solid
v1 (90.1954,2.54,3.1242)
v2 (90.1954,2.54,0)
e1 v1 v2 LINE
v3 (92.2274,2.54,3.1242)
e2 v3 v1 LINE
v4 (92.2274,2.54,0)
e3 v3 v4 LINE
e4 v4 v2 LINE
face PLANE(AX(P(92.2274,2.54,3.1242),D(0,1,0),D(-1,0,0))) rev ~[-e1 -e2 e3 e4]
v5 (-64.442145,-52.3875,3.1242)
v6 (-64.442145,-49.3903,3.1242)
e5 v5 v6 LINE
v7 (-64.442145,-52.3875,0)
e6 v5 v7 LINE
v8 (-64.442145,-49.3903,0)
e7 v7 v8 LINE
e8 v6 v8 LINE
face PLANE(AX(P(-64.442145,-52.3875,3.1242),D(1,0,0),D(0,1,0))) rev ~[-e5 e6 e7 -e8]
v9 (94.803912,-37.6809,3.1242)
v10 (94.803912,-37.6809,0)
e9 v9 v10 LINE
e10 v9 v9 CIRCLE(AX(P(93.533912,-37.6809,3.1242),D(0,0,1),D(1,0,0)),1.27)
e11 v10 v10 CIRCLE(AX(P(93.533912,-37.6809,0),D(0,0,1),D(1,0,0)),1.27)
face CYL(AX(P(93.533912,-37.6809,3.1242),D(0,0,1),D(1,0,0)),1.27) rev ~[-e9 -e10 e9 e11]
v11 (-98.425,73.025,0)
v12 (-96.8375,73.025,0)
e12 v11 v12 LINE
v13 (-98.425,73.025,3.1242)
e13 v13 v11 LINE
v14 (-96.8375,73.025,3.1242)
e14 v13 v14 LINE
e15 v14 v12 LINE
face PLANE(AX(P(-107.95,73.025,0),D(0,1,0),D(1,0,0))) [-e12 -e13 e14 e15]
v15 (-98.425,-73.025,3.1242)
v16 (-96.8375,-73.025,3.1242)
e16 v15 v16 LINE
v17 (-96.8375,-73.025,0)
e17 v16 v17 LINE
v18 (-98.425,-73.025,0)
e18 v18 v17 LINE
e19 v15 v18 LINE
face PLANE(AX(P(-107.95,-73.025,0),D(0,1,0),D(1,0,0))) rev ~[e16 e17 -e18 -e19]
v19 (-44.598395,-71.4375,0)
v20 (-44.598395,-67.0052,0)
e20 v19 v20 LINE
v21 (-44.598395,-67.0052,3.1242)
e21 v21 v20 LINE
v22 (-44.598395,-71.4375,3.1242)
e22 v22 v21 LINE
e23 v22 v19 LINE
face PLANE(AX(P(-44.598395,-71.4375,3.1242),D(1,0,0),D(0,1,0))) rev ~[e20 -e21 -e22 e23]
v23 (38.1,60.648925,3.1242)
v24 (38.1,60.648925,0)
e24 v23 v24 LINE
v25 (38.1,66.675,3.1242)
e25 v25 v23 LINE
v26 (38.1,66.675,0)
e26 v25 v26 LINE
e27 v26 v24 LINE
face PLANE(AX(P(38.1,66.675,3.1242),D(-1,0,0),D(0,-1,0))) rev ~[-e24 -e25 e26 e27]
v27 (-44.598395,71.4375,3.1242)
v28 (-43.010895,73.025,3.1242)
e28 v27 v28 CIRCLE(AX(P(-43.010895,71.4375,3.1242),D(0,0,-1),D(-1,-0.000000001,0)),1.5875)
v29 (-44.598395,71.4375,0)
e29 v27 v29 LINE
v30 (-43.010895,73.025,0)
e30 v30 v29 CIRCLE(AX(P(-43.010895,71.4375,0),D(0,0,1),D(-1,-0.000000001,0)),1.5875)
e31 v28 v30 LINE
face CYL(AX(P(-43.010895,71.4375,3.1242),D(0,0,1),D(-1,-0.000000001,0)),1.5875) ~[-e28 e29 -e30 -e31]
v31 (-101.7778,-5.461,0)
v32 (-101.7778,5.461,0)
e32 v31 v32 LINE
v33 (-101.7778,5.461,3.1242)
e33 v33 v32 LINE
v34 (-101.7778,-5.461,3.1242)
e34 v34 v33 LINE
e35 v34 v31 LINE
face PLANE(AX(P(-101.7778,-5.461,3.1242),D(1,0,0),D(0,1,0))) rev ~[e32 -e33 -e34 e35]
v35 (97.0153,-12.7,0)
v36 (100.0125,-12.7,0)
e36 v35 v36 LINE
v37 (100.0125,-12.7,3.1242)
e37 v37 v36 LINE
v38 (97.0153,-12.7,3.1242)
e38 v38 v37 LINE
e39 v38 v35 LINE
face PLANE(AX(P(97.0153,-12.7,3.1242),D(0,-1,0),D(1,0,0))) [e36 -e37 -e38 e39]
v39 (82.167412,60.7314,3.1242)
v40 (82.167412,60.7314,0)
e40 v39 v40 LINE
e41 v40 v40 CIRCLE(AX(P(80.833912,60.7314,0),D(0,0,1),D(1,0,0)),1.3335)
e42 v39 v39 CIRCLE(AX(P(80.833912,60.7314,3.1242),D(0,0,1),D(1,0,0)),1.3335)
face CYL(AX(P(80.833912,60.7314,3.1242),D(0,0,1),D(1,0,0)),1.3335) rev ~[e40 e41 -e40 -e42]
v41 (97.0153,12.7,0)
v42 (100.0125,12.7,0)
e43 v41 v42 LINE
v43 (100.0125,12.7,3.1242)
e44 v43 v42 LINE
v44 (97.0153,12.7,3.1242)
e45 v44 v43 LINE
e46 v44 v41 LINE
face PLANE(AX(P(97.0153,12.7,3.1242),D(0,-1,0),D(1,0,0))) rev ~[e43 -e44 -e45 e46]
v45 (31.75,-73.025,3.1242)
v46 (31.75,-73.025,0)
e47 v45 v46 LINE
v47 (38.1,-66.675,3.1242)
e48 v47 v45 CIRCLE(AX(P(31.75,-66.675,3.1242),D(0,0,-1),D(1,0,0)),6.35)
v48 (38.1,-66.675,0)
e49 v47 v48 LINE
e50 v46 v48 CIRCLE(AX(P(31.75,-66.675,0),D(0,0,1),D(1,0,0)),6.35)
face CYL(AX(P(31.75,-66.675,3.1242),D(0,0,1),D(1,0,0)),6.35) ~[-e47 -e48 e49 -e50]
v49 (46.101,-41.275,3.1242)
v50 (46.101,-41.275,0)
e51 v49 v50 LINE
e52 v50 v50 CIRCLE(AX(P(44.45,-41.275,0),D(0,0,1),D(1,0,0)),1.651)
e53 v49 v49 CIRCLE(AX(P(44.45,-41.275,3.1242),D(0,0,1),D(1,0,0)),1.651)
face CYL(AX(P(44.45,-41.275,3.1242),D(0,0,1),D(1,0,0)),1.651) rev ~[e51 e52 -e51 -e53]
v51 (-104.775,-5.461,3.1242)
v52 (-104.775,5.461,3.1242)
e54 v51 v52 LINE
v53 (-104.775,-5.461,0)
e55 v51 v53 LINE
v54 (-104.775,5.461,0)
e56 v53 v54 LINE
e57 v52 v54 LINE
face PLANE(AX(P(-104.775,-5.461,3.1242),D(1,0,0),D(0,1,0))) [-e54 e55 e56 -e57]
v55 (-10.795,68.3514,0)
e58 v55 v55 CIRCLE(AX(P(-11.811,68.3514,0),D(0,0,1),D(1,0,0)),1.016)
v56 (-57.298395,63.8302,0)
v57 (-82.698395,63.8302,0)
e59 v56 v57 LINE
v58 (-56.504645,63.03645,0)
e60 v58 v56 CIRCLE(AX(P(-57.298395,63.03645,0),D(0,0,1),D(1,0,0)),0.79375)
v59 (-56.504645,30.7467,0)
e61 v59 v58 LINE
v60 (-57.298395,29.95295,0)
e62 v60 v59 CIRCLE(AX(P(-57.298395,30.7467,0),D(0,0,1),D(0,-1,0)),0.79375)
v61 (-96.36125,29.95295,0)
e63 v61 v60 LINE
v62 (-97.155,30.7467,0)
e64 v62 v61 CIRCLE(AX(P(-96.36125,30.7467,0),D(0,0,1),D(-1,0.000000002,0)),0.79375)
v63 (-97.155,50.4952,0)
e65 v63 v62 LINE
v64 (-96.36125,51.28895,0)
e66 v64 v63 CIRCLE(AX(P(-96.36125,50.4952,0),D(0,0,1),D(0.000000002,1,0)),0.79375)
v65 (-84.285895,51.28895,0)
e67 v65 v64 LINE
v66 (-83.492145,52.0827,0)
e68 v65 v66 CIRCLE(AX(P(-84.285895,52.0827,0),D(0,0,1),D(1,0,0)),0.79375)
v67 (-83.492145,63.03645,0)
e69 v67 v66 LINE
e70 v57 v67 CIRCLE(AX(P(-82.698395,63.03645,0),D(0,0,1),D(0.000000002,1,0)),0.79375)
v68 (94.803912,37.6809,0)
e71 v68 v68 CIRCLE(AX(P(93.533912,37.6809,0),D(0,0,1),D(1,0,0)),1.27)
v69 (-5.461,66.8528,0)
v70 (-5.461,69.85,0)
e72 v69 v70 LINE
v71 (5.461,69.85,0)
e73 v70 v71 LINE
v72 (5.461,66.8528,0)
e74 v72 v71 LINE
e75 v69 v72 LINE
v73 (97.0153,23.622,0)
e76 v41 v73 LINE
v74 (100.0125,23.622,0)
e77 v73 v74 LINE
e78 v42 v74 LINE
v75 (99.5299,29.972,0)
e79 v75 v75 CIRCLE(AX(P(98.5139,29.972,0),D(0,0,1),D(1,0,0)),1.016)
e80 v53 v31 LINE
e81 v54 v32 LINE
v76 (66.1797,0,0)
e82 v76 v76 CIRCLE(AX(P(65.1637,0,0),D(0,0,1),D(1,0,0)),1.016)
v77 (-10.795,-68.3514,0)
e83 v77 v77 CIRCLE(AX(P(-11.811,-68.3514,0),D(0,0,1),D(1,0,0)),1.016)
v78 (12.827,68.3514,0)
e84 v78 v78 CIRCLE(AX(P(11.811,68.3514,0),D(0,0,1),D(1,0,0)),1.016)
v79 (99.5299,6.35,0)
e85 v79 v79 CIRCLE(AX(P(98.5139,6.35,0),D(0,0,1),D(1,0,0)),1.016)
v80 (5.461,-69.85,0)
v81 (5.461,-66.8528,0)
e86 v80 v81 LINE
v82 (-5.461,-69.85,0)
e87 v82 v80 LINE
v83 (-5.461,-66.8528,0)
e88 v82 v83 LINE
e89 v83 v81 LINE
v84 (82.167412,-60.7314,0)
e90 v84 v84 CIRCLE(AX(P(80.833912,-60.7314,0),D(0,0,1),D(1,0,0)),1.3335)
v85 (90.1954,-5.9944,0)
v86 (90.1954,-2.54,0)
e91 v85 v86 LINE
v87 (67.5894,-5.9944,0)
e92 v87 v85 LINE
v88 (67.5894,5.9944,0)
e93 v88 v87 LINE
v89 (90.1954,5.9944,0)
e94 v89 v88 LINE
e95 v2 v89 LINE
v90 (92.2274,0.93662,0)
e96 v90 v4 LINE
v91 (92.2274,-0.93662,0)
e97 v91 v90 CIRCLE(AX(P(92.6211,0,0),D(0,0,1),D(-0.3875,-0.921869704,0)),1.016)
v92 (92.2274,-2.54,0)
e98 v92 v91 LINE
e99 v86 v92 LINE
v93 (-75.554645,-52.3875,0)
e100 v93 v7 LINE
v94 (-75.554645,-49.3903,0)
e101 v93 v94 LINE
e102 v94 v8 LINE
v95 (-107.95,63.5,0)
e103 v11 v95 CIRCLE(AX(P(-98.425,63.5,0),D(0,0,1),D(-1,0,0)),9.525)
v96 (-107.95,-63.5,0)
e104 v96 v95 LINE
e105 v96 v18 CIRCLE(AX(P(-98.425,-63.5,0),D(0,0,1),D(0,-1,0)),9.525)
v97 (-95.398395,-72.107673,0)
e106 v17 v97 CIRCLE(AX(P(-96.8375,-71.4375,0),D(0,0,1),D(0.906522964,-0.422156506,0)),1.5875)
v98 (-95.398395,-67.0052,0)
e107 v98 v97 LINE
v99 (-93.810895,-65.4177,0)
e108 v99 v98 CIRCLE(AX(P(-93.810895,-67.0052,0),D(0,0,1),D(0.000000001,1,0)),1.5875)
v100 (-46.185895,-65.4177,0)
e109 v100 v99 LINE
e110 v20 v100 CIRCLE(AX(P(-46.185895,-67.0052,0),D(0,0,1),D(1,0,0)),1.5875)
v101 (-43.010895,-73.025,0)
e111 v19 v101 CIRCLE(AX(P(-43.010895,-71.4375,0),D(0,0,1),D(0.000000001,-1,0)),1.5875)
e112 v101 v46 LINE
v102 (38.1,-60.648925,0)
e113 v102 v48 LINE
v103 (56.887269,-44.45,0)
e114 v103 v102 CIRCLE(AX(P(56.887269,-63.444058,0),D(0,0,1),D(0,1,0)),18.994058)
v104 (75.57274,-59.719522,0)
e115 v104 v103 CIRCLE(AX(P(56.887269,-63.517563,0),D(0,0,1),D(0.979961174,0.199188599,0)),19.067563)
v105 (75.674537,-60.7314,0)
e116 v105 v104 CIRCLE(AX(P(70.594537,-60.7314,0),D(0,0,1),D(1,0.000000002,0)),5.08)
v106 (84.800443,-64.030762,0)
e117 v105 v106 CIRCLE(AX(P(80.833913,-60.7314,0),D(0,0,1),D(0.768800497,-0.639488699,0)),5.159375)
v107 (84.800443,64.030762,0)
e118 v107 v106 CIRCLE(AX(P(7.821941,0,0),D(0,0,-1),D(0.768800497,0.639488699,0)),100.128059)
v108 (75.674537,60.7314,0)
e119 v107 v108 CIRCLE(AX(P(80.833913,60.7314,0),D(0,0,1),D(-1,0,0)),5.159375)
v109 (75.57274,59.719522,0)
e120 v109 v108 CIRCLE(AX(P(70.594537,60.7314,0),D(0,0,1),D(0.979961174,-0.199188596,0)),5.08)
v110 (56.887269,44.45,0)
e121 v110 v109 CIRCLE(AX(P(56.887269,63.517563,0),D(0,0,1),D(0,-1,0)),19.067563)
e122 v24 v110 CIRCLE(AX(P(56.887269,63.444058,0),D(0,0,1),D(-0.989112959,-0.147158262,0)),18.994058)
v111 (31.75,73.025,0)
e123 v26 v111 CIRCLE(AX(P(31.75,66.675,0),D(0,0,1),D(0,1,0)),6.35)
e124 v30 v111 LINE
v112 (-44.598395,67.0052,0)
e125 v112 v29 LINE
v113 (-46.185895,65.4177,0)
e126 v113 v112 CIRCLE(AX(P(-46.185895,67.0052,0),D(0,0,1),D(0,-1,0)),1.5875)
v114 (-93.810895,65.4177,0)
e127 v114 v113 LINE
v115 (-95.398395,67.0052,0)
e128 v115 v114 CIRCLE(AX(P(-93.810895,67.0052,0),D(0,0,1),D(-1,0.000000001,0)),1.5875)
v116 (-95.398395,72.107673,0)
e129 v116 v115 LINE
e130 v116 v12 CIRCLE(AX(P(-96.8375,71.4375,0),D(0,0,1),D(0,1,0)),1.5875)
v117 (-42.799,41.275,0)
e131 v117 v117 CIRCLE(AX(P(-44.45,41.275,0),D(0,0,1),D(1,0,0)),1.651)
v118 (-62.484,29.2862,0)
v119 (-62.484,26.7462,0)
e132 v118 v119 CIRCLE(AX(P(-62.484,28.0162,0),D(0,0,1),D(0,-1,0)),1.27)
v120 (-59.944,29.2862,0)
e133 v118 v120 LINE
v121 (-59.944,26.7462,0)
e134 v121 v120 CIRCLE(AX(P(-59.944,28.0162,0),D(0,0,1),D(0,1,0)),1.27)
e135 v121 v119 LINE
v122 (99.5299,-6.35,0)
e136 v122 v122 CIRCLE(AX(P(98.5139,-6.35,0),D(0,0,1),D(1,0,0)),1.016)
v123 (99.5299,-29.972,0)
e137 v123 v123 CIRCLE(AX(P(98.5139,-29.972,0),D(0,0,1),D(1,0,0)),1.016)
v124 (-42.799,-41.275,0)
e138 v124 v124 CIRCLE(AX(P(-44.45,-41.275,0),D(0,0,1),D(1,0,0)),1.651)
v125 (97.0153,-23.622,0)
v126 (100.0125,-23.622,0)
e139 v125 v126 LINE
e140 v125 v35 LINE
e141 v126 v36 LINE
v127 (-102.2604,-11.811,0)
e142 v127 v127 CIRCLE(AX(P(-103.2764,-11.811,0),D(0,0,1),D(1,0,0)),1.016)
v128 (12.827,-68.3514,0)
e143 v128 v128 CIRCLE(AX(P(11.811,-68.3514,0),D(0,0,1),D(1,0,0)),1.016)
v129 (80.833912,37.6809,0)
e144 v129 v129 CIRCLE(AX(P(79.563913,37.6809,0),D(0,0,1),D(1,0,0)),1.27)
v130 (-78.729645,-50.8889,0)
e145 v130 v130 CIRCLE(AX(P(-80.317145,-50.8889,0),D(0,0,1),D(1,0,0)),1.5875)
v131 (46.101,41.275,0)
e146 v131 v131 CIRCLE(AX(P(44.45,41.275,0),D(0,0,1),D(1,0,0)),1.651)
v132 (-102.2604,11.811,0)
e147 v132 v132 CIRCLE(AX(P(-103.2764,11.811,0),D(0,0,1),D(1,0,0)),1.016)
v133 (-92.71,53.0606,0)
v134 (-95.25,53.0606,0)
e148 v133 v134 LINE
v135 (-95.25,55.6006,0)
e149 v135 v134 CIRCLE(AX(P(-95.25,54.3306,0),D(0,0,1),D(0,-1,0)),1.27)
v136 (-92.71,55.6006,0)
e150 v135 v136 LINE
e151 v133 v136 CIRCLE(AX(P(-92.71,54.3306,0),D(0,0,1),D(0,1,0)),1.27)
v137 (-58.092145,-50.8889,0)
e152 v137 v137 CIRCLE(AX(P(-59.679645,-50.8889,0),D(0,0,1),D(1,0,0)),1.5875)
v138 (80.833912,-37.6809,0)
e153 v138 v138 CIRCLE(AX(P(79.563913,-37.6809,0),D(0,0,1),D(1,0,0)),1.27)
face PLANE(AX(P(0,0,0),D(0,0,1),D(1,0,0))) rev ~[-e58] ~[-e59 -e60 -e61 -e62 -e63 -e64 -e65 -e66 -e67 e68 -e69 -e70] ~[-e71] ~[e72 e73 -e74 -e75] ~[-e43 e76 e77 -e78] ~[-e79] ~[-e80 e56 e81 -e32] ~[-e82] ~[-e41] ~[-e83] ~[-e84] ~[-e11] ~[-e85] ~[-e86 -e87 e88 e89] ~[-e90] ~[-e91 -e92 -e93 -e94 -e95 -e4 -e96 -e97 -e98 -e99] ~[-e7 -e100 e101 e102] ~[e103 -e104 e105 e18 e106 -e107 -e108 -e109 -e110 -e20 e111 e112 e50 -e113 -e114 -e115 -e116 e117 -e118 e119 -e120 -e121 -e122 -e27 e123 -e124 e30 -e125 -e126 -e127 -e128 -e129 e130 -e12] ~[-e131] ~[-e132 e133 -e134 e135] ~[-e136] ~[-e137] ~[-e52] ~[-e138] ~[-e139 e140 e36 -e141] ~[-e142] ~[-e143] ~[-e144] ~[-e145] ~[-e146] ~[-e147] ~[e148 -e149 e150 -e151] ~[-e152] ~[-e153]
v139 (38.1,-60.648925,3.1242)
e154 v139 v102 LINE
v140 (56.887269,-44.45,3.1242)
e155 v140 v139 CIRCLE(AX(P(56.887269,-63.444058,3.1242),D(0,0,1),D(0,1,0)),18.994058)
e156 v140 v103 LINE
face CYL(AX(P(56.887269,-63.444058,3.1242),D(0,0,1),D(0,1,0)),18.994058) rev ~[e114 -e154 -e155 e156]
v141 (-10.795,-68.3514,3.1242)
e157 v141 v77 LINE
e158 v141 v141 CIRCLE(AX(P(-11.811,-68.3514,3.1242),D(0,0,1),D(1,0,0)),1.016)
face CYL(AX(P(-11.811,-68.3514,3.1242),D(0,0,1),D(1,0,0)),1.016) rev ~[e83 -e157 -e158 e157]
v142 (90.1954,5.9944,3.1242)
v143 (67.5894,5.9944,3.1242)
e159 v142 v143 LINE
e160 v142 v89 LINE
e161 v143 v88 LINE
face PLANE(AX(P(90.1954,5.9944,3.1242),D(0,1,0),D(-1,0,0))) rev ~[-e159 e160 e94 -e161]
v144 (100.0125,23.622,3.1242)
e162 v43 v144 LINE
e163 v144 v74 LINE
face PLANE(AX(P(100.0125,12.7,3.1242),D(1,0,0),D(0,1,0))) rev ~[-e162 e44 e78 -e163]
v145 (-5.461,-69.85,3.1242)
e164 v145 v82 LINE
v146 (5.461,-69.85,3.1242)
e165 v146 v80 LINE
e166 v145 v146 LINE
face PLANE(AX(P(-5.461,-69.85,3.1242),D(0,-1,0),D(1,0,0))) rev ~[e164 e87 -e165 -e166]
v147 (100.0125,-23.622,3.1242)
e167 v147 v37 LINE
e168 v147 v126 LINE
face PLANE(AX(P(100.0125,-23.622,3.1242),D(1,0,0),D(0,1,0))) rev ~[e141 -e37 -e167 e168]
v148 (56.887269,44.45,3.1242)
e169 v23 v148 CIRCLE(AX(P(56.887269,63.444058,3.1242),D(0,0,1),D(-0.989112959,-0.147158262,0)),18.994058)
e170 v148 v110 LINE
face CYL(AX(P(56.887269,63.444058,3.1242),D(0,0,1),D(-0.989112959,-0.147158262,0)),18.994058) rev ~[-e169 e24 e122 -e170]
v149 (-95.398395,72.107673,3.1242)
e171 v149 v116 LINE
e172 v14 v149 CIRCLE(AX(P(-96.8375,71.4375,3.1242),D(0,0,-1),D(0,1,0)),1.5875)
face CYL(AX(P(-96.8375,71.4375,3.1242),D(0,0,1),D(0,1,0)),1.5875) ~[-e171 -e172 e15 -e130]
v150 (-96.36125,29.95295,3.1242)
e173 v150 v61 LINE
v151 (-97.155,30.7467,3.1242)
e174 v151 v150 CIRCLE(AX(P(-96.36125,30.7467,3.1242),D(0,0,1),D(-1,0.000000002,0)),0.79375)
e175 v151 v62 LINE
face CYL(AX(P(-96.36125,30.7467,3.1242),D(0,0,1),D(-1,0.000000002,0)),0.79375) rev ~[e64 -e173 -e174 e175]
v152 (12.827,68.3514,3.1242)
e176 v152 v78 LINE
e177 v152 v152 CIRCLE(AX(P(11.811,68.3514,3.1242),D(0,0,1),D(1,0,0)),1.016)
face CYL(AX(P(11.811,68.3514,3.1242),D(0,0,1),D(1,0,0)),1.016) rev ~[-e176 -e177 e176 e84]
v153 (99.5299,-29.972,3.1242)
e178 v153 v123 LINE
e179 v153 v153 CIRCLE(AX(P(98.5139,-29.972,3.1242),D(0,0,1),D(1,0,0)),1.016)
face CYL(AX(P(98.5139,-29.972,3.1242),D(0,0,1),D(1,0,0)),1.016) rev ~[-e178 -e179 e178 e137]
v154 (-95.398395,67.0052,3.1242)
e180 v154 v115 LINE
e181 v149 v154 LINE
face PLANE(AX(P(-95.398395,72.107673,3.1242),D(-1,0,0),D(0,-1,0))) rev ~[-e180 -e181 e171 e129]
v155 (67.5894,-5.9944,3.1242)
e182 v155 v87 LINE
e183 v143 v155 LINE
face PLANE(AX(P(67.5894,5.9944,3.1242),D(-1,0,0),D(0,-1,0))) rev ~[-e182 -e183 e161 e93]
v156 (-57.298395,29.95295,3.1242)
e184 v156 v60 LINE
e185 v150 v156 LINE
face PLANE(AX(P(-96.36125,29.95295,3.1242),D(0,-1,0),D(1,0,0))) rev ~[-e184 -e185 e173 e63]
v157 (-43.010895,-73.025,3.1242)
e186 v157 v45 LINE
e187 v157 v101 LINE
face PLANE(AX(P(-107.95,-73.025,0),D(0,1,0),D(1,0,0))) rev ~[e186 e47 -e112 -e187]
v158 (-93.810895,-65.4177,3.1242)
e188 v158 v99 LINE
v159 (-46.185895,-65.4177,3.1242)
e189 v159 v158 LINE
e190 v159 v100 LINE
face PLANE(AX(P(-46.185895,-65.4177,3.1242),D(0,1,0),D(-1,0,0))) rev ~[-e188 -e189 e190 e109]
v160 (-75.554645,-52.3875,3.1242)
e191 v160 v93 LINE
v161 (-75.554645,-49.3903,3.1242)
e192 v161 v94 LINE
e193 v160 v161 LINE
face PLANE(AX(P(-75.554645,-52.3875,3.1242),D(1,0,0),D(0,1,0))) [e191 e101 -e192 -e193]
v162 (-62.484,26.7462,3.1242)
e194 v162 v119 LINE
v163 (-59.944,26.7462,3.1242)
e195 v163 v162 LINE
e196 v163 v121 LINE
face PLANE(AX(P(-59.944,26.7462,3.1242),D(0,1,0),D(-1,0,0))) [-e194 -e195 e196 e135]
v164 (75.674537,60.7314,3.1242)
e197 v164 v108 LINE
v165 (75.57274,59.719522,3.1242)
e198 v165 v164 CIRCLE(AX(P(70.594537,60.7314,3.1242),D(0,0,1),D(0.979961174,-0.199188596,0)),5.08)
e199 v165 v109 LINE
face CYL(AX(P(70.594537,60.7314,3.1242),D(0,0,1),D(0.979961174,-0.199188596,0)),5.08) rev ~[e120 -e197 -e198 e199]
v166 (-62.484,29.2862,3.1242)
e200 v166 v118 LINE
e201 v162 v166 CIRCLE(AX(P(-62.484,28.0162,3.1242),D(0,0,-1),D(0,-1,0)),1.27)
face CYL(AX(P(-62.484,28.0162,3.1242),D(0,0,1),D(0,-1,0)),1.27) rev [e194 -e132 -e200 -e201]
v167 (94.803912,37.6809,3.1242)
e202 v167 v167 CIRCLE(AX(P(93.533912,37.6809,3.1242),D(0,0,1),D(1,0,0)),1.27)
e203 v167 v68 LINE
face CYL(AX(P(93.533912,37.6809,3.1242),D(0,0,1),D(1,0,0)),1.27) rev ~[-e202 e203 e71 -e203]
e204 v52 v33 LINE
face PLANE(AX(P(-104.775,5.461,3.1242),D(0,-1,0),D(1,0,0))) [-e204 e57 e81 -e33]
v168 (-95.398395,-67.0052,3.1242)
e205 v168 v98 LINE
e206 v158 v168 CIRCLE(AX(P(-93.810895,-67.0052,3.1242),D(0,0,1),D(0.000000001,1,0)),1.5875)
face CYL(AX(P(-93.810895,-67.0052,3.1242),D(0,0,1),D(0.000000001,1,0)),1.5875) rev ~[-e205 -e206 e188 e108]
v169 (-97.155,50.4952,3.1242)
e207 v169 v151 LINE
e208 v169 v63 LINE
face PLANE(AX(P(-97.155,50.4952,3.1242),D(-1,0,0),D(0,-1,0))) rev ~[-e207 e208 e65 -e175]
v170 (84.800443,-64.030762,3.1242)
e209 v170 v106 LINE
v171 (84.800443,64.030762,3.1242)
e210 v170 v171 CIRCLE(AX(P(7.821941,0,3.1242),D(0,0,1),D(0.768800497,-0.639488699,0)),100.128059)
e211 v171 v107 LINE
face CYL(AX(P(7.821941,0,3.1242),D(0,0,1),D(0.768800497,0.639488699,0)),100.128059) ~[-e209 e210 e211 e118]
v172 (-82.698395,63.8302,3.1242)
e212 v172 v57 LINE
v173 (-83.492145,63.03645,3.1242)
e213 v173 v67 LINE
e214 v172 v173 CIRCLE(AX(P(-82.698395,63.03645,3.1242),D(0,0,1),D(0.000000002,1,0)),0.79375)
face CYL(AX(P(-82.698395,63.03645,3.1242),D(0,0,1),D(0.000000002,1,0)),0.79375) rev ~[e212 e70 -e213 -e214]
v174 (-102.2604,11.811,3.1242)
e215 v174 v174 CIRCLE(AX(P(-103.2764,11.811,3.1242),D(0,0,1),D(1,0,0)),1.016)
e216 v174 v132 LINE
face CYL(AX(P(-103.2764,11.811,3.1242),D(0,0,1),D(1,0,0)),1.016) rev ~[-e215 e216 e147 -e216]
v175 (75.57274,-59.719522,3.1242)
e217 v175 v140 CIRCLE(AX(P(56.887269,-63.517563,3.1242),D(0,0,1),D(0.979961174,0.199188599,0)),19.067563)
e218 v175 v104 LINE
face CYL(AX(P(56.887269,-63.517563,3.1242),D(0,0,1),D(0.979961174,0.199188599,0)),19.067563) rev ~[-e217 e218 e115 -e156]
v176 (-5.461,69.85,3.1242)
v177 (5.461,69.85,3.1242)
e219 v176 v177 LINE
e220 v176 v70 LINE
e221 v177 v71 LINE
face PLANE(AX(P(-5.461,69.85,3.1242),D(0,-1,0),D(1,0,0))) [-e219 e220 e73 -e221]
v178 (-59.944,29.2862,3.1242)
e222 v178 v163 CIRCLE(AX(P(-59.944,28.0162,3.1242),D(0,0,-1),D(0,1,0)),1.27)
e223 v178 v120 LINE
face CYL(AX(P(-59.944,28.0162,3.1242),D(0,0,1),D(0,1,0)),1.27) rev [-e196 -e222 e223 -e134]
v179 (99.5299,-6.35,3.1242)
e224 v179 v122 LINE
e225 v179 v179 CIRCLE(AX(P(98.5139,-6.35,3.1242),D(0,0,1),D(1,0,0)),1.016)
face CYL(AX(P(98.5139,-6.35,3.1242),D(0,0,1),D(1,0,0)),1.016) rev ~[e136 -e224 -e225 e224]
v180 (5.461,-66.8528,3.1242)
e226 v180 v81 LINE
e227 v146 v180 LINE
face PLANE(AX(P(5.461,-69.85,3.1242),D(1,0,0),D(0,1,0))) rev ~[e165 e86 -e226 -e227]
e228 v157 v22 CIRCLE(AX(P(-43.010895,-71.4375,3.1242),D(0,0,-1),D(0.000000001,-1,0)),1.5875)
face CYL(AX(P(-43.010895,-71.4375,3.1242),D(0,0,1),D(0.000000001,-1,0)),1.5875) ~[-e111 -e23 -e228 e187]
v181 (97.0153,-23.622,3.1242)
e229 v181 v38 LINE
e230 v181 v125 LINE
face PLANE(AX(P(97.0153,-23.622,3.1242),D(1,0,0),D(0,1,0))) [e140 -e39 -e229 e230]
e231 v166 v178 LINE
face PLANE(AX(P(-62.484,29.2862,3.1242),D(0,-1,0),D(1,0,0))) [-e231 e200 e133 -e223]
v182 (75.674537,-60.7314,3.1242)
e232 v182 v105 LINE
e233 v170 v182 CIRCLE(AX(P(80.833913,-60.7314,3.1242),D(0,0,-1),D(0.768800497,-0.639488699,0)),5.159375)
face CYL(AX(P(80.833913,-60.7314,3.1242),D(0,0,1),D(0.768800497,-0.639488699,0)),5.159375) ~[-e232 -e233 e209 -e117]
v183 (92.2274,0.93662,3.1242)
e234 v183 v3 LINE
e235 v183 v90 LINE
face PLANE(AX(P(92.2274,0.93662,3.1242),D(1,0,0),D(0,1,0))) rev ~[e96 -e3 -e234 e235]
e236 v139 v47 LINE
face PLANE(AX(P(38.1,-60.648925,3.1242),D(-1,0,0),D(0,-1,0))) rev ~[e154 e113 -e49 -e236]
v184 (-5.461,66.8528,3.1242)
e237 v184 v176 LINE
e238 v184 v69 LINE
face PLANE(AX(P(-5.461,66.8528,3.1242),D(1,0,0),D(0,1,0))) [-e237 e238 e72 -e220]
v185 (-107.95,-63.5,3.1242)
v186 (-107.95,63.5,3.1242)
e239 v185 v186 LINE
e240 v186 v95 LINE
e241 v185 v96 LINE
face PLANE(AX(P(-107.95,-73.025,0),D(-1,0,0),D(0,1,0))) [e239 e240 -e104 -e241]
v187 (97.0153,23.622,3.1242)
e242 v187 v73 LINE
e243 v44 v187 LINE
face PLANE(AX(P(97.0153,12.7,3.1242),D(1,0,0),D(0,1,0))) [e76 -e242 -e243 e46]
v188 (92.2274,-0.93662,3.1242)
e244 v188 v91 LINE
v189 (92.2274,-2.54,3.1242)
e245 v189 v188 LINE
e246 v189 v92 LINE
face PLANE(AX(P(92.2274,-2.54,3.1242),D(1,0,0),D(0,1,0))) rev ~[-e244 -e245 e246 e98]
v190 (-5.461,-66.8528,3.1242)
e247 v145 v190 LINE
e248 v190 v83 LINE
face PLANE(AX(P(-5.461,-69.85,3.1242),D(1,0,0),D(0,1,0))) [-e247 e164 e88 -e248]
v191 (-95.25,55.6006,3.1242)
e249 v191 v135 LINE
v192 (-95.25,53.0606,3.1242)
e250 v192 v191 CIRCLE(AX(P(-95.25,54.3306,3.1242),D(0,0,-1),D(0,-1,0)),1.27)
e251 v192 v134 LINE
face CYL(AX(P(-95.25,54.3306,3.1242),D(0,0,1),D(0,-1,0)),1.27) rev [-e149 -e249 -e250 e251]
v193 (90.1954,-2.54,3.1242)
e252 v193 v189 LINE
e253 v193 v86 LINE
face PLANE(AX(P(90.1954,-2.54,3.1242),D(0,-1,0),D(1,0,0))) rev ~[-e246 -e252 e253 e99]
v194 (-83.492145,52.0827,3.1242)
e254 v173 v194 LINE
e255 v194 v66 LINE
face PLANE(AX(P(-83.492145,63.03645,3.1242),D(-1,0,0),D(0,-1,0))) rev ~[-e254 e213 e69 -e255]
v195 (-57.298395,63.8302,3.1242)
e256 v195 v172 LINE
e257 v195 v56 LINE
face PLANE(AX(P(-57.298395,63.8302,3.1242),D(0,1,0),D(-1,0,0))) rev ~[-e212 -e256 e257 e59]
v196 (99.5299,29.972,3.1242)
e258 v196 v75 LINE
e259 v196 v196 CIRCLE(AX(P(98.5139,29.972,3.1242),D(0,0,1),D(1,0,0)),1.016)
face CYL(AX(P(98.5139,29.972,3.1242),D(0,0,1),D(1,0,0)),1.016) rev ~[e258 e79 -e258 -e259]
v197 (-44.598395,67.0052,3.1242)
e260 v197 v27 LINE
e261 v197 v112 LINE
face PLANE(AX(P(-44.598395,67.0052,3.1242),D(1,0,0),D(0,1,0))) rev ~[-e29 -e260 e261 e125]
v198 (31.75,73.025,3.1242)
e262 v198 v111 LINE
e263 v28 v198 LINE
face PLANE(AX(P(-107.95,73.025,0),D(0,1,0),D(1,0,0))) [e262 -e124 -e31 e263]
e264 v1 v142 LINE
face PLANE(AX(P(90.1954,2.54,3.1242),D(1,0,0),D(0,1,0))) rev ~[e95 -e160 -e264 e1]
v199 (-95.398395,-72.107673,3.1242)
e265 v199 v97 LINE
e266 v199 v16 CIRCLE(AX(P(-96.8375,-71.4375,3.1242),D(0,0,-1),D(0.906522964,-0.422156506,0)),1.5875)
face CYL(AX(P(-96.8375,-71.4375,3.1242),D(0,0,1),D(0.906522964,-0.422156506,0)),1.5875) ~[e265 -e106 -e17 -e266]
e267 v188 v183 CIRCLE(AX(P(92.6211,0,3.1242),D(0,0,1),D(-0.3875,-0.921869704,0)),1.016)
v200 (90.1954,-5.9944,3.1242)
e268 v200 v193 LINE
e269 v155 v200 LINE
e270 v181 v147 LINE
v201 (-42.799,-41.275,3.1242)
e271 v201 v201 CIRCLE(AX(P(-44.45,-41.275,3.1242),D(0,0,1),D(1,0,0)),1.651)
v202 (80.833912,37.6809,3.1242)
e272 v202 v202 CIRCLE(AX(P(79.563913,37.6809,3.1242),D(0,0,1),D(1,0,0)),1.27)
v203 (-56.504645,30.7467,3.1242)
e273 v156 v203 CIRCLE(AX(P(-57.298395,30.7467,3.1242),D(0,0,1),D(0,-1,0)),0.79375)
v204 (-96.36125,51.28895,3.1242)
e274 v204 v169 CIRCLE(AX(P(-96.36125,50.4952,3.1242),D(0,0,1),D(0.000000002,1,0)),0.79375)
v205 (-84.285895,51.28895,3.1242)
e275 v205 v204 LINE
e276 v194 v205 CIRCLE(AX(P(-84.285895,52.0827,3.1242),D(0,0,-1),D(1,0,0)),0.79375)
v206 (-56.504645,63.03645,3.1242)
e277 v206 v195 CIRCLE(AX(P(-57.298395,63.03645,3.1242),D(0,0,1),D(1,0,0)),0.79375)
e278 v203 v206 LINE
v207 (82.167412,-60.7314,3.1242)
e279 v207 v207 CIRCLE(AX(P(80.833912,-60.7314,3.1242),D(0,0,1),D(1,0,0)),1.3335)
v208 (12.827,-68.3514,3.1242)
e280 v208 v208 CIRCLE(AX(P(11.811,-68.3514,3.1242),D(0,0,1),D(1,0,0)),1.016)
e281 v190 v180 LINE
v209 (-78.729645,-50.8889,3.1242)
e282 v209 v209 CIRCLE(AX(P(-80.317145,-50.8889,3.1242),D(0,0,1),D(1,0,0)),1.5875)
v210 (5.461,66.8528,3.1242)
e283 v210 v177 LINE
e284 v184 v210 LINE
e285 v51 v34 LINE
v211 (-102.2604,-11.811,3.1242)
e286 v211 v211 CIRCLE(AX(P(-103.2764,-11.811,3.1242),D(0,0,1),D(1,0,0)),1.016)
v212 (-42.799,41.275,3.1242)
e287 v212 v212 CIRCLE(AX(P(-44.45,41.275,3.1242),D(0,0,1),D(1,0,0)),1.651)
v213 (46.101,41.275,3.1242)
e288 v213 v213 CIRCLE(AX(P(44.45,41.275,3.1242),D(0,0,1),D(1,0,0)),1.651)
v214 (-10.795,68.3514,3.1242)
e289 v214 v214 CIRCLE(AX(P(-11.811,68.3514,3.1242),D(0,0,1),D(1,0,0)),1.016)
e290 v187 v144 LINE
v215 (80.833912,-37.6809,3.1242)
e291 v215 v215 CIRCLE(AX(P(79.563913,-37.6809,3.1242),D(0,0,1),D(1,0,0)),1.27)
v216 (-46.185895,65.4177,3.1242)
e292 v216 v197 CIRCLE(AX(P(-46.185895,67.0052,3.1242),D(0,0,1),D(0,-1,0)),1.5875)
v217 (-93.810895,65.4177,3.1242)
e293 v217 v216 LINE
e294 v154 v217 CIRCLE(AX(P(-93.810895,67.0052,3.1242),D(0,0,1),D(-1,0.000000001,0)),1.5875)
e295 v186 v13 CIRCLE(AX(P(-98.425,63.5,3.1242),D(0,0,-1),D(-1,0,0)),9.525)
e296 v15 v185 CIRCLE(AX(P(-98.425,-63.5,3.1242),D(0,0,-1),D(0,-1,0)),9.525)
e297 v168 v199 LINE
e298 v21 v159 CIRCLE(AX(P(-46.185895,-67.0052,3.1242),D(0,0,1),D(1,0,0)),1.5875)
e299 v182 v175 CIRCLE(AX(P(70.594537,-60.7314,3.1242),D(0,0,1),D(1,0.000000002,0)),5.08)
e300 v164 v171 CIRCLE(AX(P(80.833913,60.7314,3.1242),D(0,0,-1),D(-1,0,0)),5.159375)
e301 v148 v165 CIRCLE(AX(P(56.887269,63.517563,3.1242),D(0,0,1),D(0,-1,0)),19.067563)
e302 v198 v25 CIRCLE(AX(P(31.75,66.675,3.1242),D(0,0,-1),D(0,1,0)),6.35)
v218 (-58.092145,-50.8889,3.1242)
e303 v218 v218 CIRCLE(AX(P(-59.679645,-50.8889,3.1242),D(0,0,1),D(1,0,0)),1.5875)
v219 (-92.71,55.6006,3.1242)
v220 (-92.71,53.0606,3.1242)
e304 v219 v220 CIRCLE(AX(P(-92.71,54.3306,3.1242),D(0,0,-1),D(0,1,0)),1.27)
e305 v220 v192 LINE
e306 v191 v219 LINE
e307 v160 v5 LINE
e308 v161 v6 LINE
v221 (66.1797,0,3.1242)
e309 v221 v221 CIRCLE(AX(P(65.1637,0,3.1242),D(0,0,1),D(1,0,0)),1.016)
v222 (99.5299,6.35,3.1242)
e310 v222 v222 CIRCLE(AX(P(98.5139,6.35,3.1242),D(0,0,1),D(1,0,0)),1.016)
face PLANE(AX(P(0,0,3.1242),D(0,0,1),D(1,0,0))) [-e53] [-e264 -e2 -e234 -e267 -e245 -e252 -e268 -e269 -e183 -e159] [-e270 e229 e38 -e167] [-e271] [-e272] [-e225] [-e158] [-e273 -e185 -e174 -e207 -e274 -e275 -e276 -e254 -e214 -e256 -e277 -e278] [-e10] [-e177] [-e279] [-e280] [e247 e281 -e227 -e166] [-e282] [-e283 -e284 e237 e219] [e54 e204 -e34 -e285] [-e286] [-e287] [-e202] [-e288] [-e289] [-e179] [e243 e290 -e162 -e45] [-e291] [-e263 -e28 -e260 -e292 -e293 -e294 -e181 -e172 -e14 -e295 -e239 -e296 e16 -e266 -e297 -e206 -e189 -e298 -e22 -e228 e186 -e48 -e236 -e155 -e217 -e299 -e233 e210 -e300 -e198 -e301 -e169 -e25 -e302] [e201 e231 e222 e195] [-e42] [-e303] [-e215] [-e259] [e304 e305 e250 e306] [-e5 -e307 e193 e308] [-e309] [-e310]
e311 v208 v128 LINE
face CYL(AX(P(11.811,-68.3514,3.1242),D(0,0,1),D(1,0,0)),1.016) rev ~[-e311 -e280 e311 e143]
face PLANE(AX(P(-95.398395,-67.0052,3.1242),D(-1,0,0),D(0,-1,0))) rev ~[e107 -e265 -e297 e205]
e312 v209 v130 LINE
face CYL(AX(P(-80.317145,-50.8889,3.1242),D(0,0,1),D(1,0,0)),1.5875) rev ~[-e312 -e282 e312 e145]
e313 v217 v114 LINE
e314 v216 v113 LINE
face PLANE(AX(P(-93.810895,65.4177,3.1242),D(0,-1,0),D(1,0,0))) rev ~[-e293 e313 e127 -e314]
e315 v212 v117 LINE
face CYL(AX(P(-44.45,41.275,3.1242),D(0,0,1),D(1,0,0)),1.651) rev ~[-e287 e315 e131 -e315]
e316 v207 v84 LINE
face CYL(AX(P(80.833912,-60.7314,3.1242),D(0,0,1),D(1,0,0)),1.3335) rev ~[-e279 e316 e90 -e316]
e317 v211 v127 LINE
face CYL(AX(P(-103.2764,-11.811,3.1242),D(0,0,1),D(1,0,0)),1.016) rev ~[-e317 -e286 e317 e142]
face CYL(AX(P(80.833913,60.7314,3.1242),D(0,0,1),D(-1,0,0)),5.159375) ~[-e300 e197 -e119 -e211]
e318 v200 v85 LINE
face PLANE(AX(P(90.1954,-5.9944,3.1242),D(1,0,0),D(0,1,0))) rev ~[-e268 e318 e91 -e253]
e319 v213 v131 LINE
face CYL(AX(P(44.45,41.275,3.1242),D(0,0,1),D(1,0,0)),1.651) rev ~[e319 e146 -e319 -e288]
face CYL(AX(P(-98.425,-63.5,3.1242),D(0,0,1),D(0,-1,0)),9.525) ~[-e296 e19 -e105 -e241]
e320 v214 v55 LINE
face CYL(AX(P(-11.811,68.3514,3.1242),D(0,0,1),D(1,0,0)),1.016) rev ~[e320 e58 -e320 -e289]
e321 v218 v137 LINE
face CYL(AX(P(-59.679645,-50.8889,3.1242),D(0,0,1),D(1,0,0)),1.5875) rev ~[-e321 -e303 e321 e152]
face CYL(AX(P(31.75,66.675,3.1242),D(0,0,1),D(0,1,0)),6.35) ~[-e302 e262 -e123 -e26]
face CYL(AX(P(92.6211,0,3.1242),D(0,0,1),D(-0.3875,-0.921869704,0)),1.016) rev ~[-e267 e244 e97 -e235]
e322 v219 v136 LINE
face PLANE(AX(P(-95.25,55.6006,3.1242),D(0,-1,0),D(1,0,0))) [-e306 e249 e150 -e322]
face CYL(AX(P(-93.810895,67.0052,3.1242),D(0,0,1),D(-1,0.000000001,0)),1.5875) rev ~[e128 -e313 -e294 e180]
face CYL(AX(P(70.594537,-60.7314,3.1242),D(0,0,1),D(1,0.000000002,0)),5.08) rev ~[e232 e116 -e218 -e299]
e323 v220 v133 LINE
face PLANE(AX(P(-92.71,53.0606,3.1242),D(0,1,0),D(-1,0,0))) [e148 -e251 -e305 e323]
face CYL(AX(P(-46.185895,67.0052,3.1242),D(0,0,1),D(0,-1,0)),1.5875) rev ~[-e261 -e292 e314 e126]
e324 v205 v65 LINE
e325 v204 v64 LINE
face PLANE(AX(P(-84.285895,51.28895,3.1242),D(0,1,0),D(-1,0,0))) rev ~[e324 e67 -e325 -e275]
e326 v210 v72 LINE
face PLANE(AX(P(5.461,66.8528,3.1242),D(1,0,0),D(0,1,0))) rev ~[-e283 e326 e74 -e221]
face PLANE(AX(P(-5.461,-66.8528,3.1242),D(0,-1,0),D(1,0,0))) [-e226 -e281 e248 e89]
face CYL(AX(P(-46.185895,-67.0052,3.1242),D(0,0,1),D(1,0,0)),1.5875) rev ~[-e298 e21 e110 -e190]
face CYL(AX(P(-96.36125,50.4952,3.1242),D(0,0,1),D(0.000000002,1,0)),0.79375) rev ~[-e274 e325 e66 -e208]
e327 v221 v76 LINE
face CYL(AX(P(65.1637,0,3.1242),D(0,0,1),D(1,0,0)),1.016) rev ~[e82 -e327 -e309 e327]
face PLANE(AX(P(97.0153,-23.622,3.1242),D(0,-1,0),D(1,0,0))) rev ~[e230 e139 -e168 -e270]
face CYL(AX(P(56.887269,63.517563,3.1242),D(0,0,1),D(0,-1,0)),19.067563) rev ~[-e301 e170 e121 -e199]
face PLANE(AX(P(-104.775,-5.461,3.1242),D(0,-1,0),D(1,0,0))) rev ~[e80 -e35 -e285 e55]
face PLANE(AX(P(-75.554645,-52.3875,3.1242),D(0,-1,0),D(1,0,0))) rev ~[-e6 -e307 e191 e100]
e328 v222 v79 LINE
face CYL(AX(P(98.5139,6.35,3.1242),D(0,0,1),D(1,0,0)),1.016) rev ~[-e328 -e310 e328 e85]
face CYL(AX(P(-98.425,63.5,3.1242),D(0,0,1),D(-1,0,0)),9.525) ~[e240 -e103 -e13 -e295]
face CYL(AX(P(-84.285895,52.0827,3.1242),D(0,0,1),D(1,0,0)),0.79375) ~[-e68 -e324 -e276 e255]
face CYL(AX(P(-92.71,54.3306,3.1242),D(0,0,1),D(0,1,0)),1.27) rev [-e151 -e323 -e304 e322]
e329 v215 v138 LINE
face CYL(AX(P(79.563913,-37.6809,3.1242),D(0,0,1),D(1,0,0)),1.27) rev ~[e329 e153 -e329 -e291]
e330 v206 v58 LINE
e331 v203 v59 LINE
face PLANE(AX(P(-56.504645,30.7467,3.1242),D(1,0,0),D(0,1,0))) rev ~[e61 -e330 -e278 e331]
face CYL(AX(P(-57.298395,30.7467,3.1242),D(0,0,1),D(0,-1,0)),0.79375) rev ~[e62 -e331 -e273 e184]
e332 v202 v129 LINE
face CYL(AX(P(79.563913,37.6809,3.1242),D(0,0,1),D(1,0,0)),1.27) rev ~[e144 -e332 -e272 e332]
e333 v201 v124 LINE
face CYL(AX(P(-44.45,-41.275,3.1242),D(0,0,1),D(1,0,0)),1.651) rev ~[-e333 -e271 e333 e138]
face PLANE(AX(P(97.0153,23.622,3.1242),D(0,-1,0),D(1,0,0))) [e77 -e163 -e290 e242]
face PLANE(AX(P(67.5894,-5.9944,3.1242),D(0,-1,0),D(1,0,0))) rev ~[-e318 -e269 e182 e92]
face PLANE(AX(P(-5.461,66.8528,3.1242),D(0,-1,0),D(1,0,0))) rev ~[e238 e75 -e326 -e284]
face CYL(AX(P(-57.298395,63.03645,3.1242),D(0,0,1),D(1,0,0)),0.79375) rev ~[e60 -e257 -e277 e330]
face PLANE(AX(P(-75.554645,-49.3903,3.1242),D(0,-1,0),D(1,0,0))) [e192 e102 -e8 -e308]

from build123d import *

# Parameters (mm, degrees)
CROQUIS1_W                  = 215.9
CROQUIS1_H                  = 146.05
SALIENTE_EXTRUIR1_DEPTH     = 3.1242
CROQUIS2_R                  = 1.3335
CORTAR_EXTRUIR1_DEPTH       = 131.36722652
CROQUIS9_R                  = 1.27
CORTAR_EXTRUIR6_DEPTH       = 131.36722652
CORTAR_EXTRUIR2_DEPTH       = 131.36722652
DIFERENCIAL_TRASERO_DEPTH   = 131.36722652
ENTRADA_TRANSMISION_DEPTH   = 131.36722652
CROQUIS10_R                 = 1.016
SERVO_DEPTH                 = 131.36722652
CROQUIS12_R                 = 1.651
SOPORTES_BS_DEPTH           = 131.36722652
CROQUIS7_W                  = 11.1125
CROQUIS7_H                  = 2.9972
CROQUIS7_R                  = 1.5875
SOPORTE_EJE_DEPTH           = 131.36722652
CROQUIS13_R                 = 1.016
CROQUIS13_W                 = 10.922
CROQUIS13_H                 = 2.9972
CROQUIS13_W_2               = 2.9972
CROQUIS13_H_2               = 10.922
SENSORES_DE_PRESENCIA_DEPTH = 131.36722652


with BuildPart() as part:
    # Croquis1 → Saliente-Extruir1 (new body)
    with BuildSketch(Plane.XY):
        Rectangle(CROQUIS1_W, CROQUIS1_H)
    extrude(amount=SALIENTE_EXTRUIR1_DEPTH)

    # Croquis2 → Cortar-Extruir1 (cut, through all)
    with BuildSketch(Plane.XY.offset(3.1242)):
        with Locations((80.8339125, 60.7314)):
            Circle(CROQUIS2_R)
        with Locations((80.8339125, -60.7314)):
            Circle(CROQUIS2_R)
    extrude(amount=-CORTAR_EXTRUIR1_DEPTH, mode=Mode.SUBTRACT)

    # Croquis9 → Cortar-Extruir6 (cut, through all)
    with BuildSketch(Plane.XY.offset(3.1242)):
        with Locations((93.5339125, 37.6809)):
            Circle(CROQUIS9_R)
        with Locations((93.5339125, -37.6809)):
            Circle(CROQUIS9_R)
        with Locations((79.5639125, 37.6809)):
            Circle(CROQUIS9_R)
        with Locations((79.5639125, -37.6809)):
            Circle(CROQUIS9_R)
    extrude(amount=-CORTAR_EXTRUIR6_DEPTH, mode=Mode.SUBTRACT)

    # Croquis3 → Cortar-Extruir2 (cut, through all)
    with BuildSketch(Plane.XY.offset(3.1242)):
        with BuildLine():
            ThreePointArc((31.75, 73.025), (36.240128061, 71.165128061), (38.1, 66.675))
            Line((38.1, 66.675), (38.1, 60.648925294))
            ThreePointArc((38.1, 60.648925294), (44.483976367, 49.058906773), (56.88726875, 44.45))
            ThreePointArc((56.88726875, 44.45), (68.952768587, 48.752886462), (75.572740263, 59.719521917))
            ThreePointArc((75.572740263, 59.719521917), (75.649024122, 60.222907145), (75.6745375, 60.7314))
            ThreePointArc((75.6745375, 60.7314), (79.079726884, 65.583408163), (84.800442563, 64.030762007))
            ThreePointArc((84.800442563, 64.030762007), (101.984927744, 34.043503392), (107.95, 0))
            Line((107.95, 0), (107.95, 73.025))
            Line((107.95, 73.025), (31.75, 73.025))
        make_face()
        with BuildLine():
            Line((107.95, -73.025), (107.95, 0))
            ThreePointArc((107.95, 0), (101.984927744, -34.043503392), (84.800442563, -64.030762007))
            ThreePointArc((84.800442563, -64.030762007), (79.079726884, -65.583408163), (75.6745375, -60.7314))
            ThreePointArc((75.6745375, -60.7314), (75.649024122, -60.222907145), (75.572740263, -59.719521917))
            ThreePointArc((75.572740263, -59.719521917), (68.952768587, -48.752886462), (56.88726875, -44.45))
            ThreePointArc((56.88726875, -44.45), (44.483976367, -49.058906773), (38.1, -60.648925294))
            Line((38.1, -60.648925294), (38.1, -66.675))
            ThreePointArc((38.1, -66.675), (36.240128061, -71.165128061), (31.75, -73.025))
            Line((31.75, -73.025), (107.95, -73.025))
        make_face()
        with BuildLine():
            ThreePointArc((-107.95, 63.5), (-105.160192091, 70.235192091), (-98.425, 73.025))
            Line((-98.425, 73.025), (-107.95, 73.025))
            Line((-107.95, 73.025), (-107.95, 63.5))
        make_face()
        with BuildLine():
            Line((-107.95, -73.025), (-98.425, -73.025))
            ThreePointArc((-98.425, -73.025), (-105.160192091, -70.235192091), (-107.95, -63.5))
            Line((-107.95, -63.5), (-107.95, -73.025))
        make_face()
    extrude(amount=-CORTAR_EXTRUIR2_DEPTH, mode=Mode.SUBTRACT)

    # Croquis8 → Diferencial trasero (cut, through all)
    with BuildSketch(Plane.XY.offset(3.1242)):
        with BuildLine():
            Line((-62.484, 29.2862), (-59.944, 29.2862))
            ThreePointArc((-59.944, 29.2862), (-58.674, 28.0162), (-59.944, 26.7462))
            Line((-59.944, 26.7462), (-62.484, 26.7462))
            ThreePointArc((-62.484, 26.7462), (-63.754, 28.0162), (-62.484, 29.2862))
        make_face()
        with BuildLine():
            Line((-95.25, 55.6006), (-92.71, 55.6006))
            ThreePointArc((-92.71, 55.6006), (-91.44, 54.3306), (-92.71, 53.0606))
            Line((-92.71, 53.0606), (-95.25, 53.0606))
            ThreePointArc((-95.25, 53.0606), (-96.52, 54.3306), (-95.25, 55.6006))
        make_face()
    extrude(amount=-DIFERENCIAL_TRASERO_DEPTH, mode=Mode.SUBTRACT)

    # Croquis11 → Entrada transmision (cut, through all)
    with BuildSketch(Plane.XY.offset(3.1242)):
        with BuildLine():
            Line((-95.398394794, 73.025), (-96.8375, 73.025))
            ThreePointArc((-96.8375, 73.025), (-95.984195865, 72.776166614), (-95.398394794, 72.107673453))
            Line((-95.398394794, 72.107673453), (-95.398394794, 67.0052))
            ThreePointArc((-95.398394794, 67.0052), (-94.93342681, 65.882667985), (-93.810894794, 65.4177))
            Line((-93.810894794, 65.4177), (-46.185894794, 65.4177))
            ThreePointArc((-46.185894794, 65.4177), (-45.063362779, 65.882667985), (-44.598394794, 67.0052))
            Line((-44.598394794, 67.0052), (-44.598394794, 71.4375))
            ThreePointArc((-44.598394794, 71.4375), (-44.13342681, 72.560032015), (-43.010894794, 73.025))
            Line((-43.010894794, 73.025), (-44.598394794, 73.025))
            Line((-44.598394794, 73.025), (-44.598394794, 80.6323))
            Line((-44.598394794, 80.6323), (-95.398394794, 80.6323))
            Line((-95.398394794, 80.6323), (-95.398394794, 73.025))
        make_face()
        with BuildLine():
            Line((-57.298394794, 63.8302), (-82.698394794, 63.8302))
            ThreePointArc((-82.698394794, 63.8302), (-83.259660802, 63.597716008), (-83.492144794, 63.03645))
            Line((-83.492144794, 63.03645), (-83.492144794, 52.0827))
            ThreePointArc((-83.492144794, 52.0827), (-83.724628787, 51.521433992), (-84.285894794, 51.28895))
            Line((-84.285894794, 51.28895), (-96.36125, 51.28895))
            ThreePointArc((-96.36125, 51.28895), (-96.922516008, 51.056466008), (-97.155, 50.4952))
            Line((-97.155, 50.4952), (-97.155, 30.7467))
            ThreePointArc((-97.155, 30.7467), (-96.922516008, 30.185433992), (-96.36125, 29.95295))
            Line((-96.36125, 29.95295), (-57.298394794, 29.95295))
            ThreePointArc((-57.298394794, 29.95295), (-56.737128787, 30.185433992), (-56.504644794, 30.7467))
            Line((-56.504644794, 30.7467), (-56.504644794, 63.03645))
            ThreePointArc((-56.504644794, 63.03645), (-56.737128787, 63.597716008), (-57.298394794, 63.8302))
        make_face()
        with BuildLine():
            Line((-95.398394794, -80.6323), (-44.598394794, -80.6323))
            Line((-44.598394794, -80.6323), (-44.598394794, -73.025))
            Line((-44.598394794, -73.025), (-43.010894794, -73.025))
            ThreePointArc((-43.010894794, -73.025), (-44.13342681, -72.560032015), (-44.598394794, -71.4375))
            Line((-44.598394794, -71.4375), (-44.598394794, -67.0052))
            ThreePointArc((-44.598394794, -67.0052), (-45.063362779, -65.882667985), (-46.185894794, -65.4177))
            Line((-46.185894794, -65.4177), (-93.810894794, -65.4177))
            ThreePointArc((-93.810894794, -65.4177), (-94.93342681, -65.882667985), (-95.398394794, -67.0052))
            Line((-95.398394794, -67.0052), (-95.398394794, -72.107673453))
            ThreePointArc((-95.398394794, -72.107673453), (-95.984195865, -72.776166614), (-96.8375, -73.025))
            Line((-96.8375, -73.025), (-95.398394794, -73.025))
            Line((-95.398394794, -73.025), (-95.398394794, -80.6323))
        make_face()
    extrude(amount=-ENTRADA_TRANSMISION_DEPTH, mode=Mode.SUBTRACT)

    # Croquis10 → Servo (cut, through all)
    with BuildSketch(Plane.XY.offset(3.1242)):
        with BuildLine():
            Line((67.5894, 5.9944), (67.5894, -5.9944))
            Line((67.5894, -5.9944), (90.1954, -5.9944))
            Line((90.1954, -5.9944), (90.1954, -2.54))
            Line((90.1954, -2.54), (92.2274, -2.54))
            Line((92.2274, -2.54), (92.2274, -0.936619619))
            ThreePointArc((92.2274, -0.936619619), (93.6371, 0), (92.2274, 0.936619619))
            Line((92.2274, 0.936619619), (92.2274, 2.54))
            Line((92.2274, 2.54), (90.1954, 2.54))
            Line((90.1954, 2.54), (90.1954, 5.9944))
            Line((90.1954, 5.9944), (67.5894, 5.9944))
        make_face()
        with Locations((65.1637, 0)):
            Circle(CROQUIS10_R)
    extrude(amount=-SERVO_DEPTH, mode=Mode.SUBTRACT)

    # Croquis12 → Soportes BS (cut, through all)
    with BuildSketch(Plane.XY.offset(3.1242)):
        with Locations((44.45, 41.275)):
            Circle(CROQUIS12_R)
        with Locations((-44.45, 41.275)):
            Circle(CROQUIS12_R)
        with Locations((-44.45, -41.275)):
            Circle(CROQUIS12_R)
        with Locations((44.45, -41.275)):
            Circle(CROQUIS12_R)
    extrude(amount=-SOPORTES_BS_DEPTH, mode=Mode.SUBTRACT)

    # Croquis7 → Soporte eje (cut, through all)
    with BuildSketch(Plane.XY.offset(3.1242)):
        with Locations((-69.998394794, -50.8889)):
            Rectangle(CROQUIS7_W, CROQUIS7_H)
        with Locations((-59.679644794, -50.8889)):
            Circle(CROQUIS7_R)
        with Locations((-80.317144794, -50.8889)):
            Circle(CROQUIS7_R)
    extrude(amount=-SOPORTE_EJE_DEPTH, mode=Mode.SUBTRACT)

    # Croquis13 → Sensores de presencia (cut, through all)
    with BuildSketch(Plane.XY.offset(3.1242)):
        with Locations((11.811, 68.3514)):
            Circle(CROQUIS13_R)
        with Locations((-103.2764, 11.811)):
            Circle(CROQUIS13_R)
        with Locations((-103.2764, -11.811)):
            Circle(CROQUIS13_R)
        with Locations((-11.811, 68.3514)):
            Circle(CROQUIS13_R)
        with Locations((-11.811, -68.3514)):
            Circle(CROQUIS13_R)
        with Locations((11.811, -68.3514)):
            Circle(CROQUIS13_R)
        with Locations((98.5139, 29.972)):
            Circle(CROQUIS13_R)
        with Locations((98.5139, 6.35)):
            Circle(CROQUIS13_R)
        with Locations((98.5139, -6.35)):
            Circle(CROQUIS13_R)
        with Locations((98.5139, -29.972)):
            Circle(CROQUIS13_R)
        with Locations((0, 68.3514)):
            Rectangle(CROQUIS13_W, CROQUIS13_H)
        with Locations((-103.2764, 0)):
            Rectangle(CROQUIS13_W_2, CROQUIS13_H_2)
        with Locations((0, -68.3514)):
            Rectangle(CROQUIS13_W, CROQUIS13_H)
        with Locations((98.5139, 18.161)):
            Rectangle(CROQUIS13_W_2, CROQUIS13_H_2)
        with Locations((98.5139, -18.161)):
            Rectangle(CROQUIS13_W_2, CROQUIS13_H_2)
    extrude(amount=-SENSORES_DE_PRESENCIA_DEPTH, mode=Mode.SUBTRACT)


solid = part.part
